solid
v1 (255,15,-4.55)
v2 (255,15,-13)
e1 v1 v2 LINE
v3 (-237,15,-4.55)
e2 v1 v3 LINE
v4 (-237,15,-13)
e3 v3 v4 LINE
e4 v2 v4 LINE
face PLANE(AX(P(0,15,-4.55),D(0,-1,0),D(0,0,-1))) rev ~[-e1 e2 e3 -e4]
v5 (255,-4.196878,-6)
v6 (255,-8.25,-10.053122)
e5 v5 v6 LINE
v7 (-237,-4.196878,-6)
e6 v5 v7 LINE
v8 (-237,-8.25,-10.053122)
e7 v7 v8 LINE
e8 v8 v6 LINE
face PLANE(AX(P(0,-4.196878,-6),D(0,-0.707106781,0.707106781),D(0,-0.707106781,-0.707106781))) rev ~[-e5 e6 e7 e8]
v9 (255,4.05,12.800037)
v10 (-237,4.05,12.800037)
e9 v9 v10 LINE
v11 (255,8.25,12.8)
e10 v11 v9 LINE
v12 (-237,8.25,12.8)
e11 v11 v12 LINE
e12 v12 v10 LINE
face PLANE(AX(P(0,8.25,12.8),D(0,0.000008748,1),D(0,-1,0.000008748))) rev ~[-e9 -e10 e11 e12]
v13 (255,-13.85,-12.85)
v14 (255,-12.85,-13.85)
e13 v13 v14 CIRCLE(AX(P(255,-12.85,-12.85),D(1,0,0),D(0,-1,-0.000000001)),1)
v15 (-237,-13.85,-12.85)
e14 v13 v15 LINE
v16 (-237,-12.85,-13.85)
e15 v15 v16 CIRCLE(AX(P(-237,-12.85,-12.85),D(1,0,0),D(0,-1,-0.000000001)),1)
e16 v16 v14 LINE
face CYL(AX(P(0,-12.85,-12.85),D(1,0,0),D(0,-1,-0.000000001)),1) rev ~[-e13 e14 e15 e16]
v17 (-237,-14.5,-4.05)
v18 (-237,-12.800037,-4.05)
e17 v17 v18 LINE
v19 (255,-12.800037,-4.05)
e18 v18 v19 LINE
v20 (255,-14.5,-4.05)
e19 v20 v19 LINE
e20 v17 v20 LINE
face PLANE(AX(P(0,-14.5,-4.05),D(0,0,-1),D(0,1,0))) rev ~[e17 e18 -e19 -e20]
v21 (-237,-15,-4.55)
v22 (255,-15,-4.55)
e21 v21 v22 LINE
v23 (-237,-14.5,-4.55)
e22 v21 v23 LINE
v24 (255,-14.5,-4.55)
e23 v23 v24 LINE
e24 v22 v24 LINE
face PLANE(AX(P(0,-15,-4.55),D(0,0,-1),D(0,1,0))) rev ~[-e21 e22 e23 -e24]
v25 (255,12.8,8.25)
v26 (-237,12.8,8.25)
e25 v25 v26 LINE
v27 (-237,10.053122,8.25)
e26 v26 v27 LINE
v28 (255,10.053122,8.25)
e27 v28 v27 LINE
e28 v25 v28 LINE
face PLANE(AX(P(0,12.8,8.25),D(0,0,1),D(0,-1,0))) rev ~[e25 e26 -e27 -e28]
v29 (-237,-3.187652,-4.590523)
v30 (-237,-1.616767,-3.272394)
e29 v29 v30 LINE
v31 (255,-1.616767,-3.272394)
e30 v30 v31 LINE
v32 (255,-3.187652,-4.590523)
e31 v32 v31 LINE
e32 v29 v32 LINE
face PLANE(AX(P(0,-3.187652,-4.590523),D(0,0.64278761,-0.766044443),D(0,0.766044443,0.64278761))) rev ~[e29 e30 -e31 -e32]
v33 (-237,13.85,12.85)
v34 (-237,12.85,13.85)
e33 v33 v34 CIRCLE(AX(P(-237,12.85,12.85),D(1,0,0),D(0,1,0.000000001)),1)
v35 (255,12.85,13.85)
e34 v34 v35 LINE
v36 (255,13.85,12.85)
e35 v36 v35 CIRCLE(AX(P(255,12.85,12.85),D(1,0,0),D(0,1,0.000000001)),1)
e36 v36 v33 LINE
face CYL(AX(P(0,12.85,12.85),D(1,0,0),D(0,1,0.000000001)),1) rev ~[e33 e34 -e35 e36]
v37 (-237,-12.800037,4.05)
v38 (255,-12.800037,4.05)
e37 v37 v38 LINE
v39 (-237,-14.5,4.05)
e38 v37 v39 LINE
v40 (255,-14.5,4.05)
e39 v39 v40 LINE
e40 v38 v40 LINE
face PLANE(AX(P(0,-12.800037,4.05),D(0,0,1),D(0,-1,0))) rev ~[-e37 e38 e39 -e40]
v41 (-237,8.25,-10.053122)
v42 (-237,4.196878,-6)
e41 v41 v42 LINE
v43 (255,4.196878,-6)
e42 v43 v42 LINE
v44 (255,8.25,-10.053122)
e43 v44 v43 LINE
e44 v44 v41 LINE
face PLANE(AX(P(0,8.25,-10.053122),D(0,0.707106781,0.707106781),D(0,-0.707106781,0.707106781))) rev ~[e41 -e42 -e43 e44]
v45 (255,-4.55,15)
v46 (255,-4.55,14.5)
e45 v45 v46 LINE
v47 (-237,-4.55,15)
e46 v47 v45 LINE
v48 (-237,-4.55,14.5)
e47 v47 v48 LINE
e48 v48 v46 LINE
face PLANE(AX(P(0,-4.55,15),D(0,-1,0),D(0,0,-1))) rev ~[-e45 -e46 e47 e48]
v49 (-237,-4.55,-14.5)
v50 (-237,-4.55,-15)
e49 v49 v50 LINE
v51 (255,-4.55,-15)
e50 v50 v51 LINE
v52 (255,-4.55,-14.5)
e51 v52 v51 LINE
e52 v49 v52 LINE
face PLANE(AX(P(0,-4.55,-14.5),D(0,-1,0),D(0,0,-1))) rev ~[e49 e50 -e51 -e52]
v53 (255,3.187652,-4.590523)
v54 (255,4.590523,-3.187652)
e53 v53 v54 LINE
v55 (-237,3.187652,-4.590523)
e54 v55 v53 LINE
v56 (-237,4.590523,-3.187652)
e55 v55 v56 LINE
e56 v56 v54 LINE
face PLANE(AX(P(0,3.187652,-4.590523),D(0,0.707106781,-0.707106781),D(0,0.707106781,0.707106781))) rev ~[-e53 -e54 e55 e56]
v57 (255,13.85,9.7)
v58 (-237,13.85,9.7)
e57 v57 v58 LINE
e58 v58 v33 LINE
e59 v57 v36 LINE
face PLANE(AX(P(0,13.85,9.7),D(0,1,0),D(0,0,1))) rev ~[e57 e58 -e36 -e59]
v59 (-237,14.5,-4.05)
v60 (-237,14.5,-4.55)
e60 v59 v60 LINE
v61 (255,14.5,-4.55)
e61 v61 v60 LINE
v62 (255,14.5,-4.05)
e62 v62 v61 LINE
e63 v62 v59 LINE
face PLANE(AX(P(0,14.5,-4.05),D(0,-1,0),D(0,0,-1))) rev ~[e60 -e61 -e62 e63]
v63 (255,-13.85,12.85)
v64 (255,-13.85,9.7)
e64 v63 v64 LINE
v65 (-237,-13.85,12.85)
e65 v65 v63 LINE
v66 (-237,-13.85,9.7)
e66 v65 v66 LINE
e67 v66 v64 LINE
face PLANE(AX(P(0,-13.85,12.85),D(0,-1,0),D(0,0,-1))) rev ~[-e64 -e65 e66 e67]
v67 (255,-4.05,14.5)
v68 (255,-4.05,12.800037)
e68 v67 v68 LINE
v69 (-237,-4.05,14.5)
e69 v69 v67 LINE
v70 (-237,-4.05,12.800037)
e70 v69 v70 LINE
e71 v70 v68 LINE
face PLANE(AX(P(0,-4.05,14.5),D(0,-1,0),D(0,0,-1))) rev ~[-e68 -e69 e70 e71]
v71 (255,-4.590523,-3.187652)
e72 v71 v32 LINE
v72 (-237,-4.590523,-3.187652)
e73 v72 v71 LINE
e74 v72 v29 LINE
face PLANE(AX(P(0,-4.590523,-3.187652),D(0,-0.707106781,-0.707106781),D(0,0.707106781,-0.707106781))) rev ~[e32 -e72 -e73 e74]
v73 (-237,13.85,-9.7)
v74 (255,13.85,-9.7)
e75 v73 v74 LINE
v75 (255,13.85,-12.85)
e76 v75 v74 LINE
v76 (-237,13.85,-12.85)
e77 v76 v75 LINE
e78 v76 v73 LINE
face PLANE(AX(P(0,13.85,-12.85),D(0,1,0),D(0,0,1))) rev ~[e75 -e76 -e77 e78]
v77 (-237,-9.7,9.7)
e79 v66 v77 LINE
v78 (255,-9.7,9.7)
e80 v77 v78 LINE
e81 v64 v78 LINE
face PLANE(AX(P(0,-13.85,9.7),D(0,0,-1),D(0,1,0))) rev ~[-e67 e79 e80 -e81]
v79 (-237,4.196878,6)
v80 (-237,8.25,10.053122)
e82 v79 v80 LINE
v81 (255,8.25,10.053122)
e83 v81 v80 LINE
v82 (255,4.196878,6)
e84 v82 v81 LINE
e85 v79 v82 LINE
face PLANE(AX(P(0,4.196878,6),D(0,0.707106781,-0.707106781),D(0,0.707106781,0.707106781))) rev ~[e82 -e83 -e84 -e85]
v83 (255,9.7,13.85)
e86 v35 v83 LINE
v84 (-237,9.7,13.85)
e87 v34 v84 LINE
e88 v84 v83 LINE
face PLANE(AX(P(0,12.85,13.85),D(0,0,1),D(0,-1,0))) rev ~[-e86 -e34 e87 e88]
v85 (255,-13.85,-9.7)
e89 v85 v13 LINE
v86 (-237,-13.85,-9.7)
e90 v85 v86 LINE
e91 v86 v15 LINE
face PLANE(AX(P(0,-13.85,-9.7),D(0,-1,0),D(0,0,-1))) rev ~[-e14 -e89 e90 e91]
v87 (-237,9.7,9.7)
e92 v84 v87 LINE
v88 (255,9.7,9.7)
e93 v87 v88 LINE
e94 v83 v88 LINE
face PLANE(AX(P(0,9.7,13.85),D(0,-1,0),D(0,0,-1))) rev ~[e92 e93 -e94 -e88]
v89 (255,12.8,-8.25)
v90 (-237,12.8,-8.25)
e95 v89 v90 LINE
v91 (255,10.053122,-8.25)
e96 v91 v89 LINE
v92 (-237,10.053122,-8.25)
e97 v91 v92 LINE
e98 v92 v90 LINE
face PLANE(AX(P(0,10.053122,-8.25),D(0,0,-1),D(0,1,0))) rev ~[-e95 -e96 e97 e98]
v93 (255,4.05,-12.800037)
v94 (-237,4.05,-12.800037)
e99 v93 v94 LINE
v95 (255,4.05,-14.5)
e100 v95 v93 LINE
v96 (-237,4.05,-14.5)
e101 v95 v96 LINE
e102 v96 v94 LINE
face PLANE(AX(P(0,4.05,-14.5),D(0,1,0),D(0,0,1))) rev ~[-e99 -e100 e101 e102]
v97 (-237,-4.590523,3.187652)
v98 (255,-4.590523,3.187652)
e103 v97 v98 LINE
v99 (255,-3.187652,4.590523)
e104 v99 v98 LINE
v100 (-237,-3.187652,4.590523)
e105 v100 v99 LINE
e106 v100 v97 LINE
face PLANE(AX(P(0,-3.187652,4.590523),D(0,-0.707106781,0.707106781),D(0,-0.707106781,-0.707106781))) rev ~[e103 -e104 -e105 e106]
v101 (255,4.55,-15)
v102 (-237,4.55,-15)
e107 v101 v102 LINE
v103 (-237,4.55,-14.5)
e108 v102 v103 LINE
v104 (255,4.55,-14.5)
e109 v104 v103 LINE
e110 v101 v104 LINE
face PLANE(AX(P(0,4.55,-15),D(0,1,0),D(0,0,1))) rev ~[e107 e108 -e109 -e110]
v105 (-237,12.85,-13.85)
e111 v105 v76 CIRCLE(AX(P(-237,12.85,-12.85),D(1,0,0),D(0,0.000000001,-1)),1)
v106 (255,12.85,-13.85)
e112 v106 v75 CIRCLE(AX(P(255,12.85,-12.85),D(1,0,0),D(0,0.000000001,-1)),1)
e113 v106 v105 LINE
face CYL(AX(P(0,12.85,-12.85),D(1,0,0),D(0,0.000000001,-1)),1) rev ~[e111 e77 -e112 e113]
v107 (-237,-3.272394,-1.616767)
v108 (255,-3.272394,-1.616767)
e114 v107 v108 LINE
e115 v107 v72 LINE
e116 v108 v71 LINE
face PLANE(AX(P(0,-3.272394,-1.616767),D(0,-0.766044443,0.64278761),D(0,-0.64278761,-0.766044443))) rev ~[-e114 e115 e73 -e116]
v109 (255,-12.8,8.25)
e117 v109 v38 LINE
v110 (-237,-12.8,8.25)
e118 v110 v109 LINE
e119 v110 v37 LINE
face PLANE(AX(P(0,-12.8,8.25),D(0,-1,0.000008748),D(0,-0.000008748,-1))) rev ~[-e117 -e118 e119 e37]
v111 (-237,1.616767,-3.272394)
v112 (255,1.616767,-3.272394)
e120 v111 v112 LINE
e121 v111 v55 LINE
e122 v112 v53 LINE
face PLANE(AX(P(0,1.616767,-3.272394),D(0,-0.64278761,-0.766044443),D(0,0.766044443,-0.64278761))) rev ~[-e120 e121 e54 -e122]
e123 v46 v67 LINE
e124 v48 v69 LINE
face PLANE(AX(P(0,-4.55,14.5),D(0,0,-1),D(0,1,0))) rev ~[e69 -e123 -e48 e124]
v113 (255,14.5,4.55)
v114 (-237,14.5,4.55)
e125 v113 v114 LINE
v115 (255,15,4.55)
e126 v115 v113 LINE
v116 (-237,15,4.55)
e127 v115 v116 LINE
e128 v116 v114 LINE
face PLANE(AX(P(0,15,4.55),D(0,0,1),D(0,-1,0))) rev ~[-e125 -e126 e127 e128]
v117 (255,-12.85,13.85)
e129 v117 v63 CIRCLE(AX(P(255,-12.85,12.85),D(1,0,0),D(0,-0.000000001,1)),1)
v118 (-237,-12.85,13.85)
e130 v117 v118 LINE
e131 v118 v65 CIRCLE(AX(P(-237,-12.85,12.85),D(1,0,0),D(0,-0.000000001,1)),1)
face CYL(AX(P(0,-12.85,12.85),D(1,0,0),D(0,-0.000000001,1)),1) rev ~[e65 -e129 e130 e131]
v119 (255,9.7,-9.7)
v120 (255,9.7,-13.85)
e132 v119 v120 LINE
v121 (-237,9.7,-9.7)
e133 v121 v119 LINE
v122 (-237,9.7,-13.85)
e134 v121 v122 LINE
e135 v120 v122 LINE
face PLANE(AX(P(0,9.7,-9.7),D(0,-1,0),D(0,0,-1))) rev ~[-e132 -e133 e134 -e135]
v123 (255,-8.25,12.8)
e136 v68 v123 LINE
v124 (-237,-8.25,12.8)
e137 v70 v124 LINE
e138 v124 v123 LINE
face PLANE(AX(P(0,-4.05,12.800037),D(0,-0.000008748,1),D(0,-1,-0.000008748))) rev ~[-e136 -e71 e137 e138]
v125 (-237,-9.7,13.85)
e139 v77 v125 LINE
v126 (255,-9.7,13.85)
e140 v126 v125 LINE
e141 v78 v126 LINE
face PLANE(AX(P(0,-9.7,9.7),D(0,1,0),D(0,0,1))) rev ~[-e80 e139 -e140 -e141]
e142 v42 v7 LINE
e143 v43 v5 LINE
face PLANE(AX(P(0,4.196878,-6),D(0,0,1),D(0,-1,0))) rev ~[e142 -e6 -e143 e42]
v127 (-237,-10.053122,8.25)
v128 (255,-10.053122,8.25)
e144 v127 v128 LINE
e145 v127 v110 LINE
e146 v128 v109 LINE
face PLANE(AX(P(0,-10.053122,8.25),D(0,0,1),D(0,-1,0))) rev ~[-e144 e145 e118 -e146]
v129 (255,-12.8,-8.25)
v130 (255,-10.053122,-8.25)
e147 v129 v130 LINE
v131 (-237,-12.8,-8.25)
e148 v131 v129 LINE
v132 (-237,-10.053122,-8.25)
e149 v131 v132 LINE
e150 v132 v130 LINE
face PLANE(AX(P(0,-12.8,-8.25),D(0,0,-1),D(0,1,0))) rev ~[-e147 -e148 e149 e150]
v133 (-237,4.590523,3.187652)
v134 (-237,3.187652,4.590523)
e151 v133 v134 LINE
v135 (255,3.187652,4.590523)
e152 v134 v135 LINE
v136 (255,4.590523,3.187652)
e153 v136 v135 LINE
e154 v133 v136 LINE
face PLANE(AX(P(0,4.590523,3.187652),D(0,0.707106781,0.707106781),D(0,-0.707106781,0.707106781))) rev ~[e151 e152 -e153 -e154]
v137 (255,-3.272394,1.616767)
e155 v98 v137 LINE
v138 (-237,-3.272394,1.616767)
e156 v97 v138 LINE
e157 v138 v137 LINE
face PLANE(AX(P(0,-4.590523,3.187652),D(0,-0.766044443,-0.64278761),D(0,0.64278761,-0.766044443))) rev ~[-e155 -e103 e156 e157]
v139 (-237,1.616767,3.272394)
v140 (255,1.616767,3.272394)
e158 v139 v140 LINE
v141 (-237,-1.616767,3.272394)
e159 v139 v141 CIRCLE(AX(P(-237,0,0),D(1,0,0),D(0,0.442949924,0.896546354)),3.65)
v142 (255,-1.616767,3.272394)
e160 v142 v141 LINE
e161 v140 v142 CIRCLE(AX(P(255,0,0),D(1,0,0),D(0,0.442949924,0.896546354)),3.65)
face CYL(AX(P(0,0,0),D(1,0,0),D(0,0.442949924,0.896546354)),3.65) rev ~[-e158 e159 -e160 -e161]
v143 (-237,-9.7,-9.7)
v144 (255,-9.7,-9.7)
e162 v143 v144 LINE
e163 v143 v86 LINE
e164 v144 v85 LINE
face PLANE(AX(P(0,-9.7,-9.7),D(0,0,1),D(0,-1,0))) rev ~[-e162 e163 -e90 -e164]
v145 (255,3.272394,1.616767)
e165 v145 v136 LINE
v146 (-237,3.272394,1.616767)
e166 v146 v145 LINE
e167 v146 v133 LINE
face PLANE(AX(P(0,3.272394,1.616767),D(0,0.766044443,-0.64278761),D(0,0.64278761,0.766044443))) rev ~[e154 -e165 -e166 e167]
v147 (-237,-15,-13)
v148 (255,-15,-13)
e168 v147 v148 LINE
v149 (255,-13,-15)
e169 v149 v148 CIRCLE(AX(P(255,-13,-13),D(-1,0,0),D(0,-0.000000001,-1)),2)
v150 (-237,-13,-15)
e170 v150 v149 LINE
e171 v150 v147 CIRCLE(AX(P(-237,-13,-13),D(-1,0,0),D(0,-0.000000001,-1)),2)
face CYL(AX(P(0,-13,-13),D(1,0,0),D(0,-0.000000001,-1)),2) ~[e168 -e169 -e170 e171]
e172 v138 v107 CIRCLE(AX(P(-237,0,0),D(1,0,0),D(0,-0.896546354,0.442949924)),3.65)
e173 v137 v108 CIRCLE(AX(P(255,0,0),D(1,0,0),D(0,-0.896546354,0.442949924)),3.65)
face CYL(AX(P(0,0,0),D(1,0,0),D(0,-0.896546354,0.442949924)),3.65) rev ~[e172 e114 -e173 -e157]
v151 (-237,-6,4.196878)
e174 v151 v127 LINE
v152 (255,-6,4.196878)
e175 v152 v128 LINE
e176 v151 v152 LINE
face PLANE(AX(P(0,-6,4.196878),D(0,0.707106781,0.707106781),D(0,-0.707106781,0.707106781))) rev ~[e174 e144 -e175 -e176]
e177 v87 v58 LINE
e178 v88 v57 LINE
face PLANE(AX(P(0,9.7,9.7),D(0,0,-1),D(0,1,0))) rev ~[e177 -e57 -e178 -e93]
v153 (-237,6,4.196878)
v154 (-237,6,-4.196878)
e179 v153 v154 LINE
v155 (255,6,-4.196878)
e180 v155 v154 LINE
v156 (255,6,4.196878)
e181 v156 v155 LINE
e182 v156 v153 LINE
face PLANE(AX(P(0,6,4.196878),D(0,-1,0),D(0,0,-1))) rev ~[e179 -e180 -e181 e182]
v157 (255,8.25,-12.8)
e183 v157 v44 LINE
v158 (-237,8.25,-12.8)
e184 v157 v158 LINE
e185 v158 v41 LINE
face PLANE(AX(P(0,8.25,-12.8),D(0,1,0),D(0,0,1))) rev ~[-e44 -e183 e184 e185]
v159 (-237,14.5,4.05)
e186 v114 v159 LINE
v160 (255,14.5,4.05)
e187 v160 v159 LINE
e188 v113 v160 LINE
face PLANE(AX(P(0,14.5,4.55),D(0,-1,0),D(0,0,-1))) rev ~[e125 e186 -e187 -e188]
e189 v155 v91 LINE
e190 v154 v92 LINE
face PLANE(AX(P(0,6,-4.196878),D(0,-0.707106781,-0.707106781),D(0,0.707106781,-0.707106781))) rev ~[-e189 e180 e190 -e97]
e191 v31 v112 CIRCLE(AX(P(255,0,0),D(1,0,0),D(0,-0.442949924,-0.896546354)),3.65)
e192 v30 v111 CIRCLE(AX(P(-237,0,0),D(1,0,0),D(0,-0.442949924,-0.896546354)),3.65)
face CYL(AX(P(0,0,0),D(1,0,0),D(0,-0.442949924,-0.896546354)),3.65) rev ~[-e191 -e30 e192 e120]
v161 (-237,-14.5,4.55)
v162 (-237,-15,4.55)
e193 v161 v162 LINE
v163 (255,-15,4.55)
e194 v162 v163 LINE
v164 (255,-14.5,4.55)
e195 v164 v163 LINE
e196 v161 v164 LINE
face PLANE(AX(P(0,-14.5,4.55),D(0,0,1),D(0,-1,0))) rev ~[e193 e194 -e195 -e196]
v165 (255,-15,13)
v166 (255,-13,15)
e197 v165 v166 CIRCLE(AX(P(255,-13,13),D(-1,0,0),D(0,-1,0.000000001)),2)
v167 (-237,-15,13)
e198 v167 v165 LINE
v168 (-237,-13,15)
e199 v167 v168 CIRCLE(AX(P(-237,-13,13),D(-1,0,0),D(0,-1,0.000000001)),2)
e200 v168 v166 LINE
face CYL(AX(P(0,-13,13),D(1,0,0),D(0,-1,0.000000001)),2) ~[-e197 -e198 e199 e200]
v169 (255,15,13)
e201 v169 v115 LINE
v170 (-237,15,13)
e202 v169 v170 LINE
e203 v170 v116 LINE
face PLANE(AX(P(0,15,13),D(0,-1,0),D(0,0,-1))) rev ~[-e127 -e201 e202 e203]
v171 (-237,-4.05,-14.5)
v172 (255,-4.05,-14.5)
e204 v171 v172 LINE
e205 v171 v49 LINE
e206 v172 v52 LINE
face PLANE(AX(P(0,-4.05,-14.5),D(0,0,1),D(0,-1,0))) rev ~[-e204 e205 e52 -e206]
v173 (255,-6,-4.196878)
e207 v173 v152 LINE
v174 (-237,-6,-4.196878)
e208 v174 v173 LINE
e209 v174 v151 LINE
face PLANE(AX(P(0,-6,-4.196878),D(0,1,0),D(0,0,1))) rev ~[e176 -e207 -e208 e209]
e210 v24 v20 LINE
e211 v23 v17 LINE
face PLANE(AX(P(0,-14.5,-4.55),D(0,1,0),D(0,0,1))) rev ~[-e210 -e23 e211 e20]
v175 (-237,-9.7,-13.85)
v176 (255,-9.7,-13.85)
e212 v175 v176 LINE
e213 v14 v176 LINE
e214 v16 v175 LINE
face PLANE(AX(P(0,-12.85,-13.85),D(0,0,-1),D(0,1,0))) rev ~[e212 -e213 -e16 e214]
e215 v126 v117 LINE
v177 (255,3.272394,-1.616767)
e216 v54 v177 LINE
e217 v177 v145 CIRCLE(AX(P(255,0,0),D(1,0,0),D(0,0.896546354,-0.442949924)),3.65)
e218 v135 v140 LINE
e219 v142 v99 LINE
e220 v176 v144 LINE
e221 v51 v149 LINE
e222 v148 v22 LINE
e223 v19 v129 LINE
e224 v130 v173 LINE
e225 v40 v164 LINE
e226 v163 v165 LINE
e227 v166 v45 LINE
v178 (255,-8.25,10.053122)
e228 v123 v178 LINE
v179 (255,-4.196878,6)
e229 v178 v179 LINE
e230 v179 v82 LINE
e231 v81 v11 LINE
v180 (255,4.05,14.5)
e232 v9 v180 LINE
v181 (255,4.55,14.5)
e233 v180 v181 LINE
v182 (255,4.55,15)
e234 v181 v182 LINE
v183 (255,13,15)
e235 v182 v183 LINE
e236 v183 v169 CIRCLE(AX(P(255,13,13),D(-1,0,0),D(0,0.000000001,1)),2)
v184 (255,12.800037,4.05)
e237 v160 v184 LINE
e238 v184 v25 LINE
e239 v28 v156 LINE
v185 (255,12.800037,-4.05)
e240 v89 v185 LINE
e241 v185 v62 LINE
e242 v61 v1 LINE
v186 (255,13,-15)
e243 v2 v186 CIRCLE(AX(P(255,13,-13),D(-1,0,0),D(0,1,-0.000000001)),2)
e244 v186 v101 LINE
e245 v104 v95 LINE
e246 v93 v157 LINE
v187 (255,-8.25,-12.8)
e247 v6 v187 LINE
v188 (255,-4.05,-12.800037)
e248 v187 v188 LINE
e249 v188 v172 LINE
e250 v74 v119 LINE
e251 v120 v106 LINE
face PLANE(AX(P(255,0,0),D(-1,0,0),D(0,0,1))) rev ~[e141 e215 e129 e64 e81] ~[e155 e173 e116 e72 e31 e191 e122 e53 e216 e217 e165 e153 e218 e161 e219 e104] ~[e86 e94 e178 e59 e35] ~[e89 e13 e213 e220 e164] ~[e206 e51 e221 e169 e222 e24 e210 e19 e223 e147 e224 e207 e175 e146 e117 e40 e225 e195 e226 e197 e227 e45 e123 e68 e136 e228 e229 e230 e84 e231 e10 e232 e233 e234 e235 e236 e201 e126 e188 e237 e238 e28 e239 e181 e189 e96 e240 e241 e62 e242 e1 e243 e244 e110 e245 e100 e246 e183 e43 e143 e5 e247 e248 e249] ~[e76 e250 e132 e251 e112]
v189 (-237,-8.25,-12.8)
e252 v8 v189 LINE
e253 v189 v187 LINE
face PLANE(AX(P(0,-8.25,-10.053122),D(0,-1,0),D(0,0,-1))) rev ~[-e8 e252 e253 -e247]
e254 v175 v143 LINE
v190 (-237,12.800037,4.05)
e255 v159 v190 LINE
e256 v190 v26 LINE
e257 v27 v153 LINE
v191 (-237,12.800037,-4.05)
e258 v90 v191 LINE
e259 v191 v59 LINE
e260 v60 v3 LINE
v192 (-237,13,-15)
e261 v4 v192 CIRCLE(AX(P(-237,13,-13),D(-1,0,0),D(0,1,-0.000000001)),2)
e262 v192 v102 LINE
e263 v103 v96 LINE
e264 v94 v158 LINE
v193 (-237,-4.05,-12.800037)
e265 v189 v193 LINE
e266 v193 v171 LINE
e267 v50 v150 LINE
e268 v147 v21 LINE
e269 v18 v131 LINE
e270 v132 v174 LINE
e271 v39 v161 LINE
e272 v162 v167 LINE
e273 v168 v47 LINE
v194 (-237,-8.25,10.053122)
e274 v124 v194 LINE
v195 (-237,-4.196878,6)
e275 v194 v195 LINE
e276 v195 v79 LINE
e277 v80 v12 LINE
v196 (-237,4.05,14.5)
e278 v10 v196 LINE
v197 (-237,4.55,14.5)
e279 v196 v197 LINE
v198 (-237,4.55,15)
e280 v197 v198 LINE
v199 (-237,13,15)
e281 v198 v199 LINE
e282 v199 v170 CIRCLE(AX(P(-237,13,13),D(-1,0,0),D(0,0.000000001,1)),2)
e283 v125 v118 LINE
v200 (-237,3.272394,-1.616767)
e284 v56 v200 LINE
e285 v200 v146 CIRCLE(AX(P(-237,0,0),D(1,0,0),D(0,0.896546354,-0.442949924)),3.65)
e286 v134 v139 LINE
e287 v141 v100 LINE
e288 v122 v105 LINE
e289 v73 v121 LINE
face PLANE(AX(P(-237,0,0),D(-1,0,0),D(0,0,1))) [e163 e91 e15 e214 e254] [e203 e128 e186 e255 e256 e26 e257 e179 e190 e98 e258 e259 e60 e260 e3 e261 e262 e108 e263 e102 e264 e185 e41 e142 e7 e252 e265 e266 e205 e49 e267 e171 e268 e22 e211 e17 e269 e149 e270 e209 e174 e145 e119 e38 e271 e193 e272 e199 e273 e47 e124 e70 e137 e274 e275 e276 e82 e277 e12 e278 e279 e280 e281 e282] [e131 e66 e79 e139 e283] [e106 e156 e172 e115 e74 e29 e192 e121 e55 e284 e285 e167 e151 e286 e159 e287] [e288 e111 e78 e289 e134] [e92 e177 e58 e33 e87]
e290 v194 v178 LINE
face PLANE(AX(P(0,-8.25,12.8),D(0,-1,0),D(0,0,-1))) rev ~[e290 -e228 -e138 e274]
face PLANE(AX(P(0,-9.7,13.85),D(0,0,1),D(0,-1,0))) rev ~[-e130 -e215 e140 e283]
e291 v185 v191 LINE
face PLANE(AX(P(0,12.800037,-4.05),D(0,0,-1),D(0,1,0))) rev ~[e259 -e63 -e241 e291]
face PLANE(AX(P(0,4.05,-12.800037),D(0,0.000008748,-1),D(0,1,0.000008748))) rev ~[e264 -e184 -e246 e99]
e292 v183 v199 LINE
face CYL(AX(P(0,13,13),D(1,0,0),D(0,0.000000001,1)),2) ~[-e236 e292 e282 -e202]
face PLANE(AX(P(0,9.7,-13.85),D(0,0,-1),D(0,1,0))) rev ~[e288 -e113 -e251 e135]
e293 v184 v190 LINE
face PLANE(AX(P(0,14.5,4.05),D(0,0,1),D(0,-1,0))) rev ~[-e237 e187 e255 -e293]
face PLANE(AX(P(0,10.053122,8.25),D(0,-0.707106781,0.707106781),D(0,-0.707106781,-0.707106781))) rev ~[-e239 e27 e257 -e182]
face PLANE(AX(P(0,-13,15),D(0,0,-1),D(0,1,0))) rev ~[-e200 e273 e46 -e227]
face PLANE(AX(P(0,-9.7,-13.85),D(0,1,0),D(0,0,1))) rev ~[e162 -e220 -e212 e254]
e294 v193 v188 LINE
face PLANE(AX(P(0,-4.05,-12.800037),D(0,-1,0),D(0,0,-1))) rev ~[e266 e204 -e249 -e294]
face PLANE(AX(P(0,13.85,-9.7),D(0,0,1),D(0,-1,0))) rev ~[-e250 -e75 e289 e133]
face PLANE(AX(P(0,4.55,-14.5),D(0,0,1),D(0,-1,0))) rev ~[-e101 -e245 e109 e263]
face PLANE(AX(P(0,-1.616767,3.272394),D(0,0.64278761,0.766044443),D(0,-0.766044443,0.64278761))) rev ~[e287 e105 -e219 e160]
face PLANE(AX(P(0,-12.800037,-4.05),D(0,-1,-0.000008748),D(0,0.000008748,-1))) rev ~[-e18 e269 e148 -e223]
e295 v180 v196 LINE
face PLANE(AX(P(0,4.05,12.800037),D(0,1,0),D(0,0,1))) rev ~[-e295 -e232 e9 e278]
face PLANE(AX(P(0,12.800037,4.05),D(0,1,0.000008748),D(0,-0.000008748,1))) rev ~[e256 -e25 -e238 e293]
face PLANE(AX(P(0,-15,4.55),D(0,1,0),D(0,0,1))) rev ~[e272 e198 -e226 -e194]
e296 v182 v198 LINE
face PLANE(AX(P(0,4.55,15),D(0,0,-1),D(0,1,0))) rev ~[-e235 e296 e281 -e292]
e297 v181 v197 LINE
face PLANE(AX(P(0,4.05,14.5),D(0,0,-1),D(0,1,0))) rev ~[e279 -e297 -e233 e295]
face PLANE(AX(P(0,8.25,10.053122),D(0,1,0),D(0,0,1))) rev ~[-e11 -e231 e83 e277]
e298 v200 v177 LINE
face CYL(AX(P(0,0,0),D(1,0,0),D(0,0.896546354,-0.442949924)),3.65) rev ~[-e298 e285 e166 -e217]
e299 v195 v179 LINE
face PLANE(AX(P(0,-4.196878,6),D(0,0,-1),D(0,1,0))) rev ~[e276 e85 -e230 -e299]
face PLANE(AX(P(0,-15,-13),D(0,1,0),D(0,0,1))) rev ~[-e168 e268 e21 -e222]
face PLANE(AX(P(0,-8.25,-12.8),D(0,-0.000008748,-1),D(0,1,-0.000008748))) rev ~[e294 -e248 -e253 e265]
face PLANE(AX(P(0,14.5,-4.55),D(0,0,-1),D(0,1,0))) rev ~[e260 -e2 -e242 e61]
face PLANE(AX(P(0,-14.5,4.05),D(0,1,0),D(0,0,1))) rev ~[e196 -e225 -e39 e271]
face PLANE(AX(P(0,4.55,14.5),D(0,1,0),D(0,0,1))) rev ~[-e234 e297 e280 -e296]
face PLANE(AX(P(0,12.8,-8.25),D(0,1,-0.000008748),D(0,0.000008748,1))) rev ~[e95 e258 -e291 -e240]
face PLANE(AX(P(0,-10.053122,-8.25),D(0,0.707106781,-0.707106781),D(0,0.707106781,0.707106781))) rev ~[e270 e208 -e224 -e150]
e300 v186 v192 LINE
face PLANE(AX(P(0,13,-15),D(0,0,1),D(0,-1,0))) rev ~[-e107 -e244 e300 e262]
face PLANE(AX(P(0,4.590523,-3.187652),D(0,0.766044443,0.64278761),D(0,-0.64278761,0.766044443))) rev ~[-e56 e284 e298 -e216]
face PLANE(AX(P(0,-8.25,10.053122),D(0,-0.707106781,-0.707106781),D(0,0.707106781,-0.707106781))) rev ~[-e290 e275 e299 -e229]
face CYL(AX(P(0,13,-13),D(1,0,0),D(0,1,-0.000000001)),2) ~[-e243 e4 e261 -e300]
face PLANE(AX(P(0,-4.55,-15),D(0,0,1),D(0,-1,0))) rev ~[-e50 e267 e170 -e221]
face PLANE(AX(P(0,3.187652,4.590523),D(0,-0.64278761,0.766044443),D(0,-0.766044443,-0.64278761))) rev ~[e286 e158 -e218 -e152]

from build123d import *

# Parameters (mm, degrees)
BR_EXTRUDE_DEPTH      = 255
BR_EXTRUDE_DEPTH_BACK = 237


with BuildPart() as part:
    # Sketch2 → BR_Extrude (new body, two sides)
    with BuildSketch(Plane(origin=(0, 0, 0), x_dir=(0, 0, -1), z_dir=(1, 0, 0))) as br_extrude_sk:
        with BuildLine():
            Line((-6, 4.196877708), (-10.053122292, 8.25))
            Line((-10.053122292, 8.25), (-12.8, 8.25))
            Line((-12.8, 8.25), (-12.800036742, 4.05))
            Line((-12.800036742, 4.05), (-14.5, 4.05))
            Line((-14.5, 4.05), (-14.5, 4.55))
            Line((-14.5, 4.55), (-15, 4.55))
            Line((-15, 4.55), (-15, 13))
            ThreePointArc((-15, 13), (-14.414213562, 14.414213562), (-13, 15))
            Line((-13, 15), (-4.55, 15))
            Line((-4.55, 15), (-4.55, 14.5))
            Line((-4.55, 14.5), (-4.05, 14.5))
            Line((-4.05, 14.5), (-4.05, 12.800036742))
            Line((-4.05, 12.800036742), (-8.25, 12.8))
            Line((-8.25, 12.8), (-8.25, 10.053122292))
            Line((-8.25, 10.053122292), (-4.196877708, 6))
            Line((-4.196877708, 6), (4.196877708, 6))
            Line((4.196877708, 6), (8.25, 10.053122292))
            Line((8.25, 10.053122292), (8.25, 12.8))
            Line((8.25, 12.8), (4.05, 12.800036742))
            Line((4.05, 12.800036742), (4.05, 14.5))
            Line((4.05, 14.5), (4.55, 14.5))
            Line((4.55, 14.5), (4.55, 15))
            Line((4.55, 15), (13, 15))
            ThreePointArc((13, 15), (14.414213562, 14.414213562), (15, 13))
            Line((15, 13), (15, 4.55))
            Line((15, 4.55), (14.5, 4.55))
            Line((14.5, 4.55), (14.5, 4.05))
            Line((14.5, 4.05), (12.800036742, 4.05))
            Line((12.800036742, 4.05), (12.8, 8.25))
            Line((12.8, 8.25), (10.053122292, 8.25))
            Line((10.053122292, 8.25), (6, 4.196877708))
            Line((6, 4.196877708), (6, -4.196877708))
            Line((6, -4.196877708), (10.053122292, -8.25))
            Line((10.053122292, -8.25), (12.8, -8.25))
            Line((12.8, -8.25), (12.800036742, -4.05))
            Line((12.800036742, -4.05), (14.5, -4.05))
            Line((14.5, -4.05), (14.5, -4.55))
            Line((14.5, -4.55), (15, -4.55))
            Line((15, -4.55), (15, -13))
            ThreePointArc((15, -13), (14.414213562, -14.414213562), (13, -15))
            Line((13, -15), (4.55, -15))
            Line((4.55, -15), (4.55, -14.5))
            Line((4.55, -14.5), (4.05, -14.5))
            Line((4.05, -14.5), (4.05, -12.800036742))
            Line((4.05, -12.800036742), (8.25, -12.8))
            Line((8.25, -12.8), (8.25, -10.053122292))
            Line((8.25, -10.053122292), (4.196877708, -6))
            Line((4.196877708, -6), (-4.196877708, -6))
            Line((-4.196877708, -6), (-8.25, -10.053122292))
            Line((-8.25, -10.053122292), (-8.25, -12.8))
            Line((-8.25, -12.8), (-4.05, -12.800036742))
            Line((-4.05, -12.800036742), (-4.05, -14.5))
            Line((-4.05, -14.5), (-4.55, -14.5))
            Line((-4.55, -14.5), (-4.55, -15))
            Line((-4.55, -15), (-13, -15))
            ThreePointArc((-13, -15), (-14.414213562, -14.414213562), (-15, -13))
            Line((-15, -13), (-15, -4.55))
            Line((-15, -4.55), (-14.5, -4.55))
            Line((-14.5, -4.55), (-14.5, -4.05))
            Line((-14.5, -4.05), (-12.800036742, -4.05))
            Line((-12.800036742, -4.05), (-12.8, -8.25))
            Line((-12.8, -8.25), (-10.053122292, -8.25))
            Line((-10.053122292, -8.25), (-6, -4.196877708))
            Line((-6, -4.196877708), (-6, 4.196877708))
        make_face()
        with BuildLine():
            Line((-13.85, -9.7), (-13.85, -12.85))
            ThreePointArc((-13.85, -12.85), (-13.557106781, -13.557106781), (-12.85, -13.85))
            Line((-12.85, -13.85), (-9.7, -13.85))
            Line((-9.7, -13.85), (-9.7, -9.7))
            Line((-9.7, -9.7), (-13.85, -9.7))
        make_face(mode=Mode.SUBTRACT)
        with BuildLine():
            Line((9.7, -13.85), (12.85, -13.85))
            ThreePointArc((12.85, -13.85), (13.557106781, -13.557106781), (13.85, -12.85))
            Line((13.85, -12.85), (13.85, -9.7))
            Line((13.85, -9.7), (9.7, -9.7))
            Line((9.7, -9.7), (9.7, -13.85))
        make_face(mode=Mode.SUBTRACT)
        with BuildLine():
            Line((13.85, 9.7), (13.85, 12.85))
            ThreePointArc((13.85, 12.85), (13.557106781, 13.557106781), (12.85, 13.85))
            Line((12.85, 13.85), (9.7, 13.85))
            Line((9.7, 13.85), (9.7, 9.7))
            Line((9.7, 9.7), (13.85, 9.7))
        make_face(mode=Mode.SUBTRACT)
        with BuildLine():
            Line((-9.7, 13.85), (-12.85, 13.85))
            ThreePointArc((-12.85, 13.85), (-13.557106781, 13.557106781), (-13.85, 12.85))
            Line((-13.85, 12.85), (-13.85, 9.7))
            Line((-13.85, 9.7), (-9.7, 9.7))
            Line((-9.7, 9.7), (-9.7, 13.85))
        make_face(mode=Mode.SUBTRACT)
        with BuildLine():
            Line((-3.272394192, -1.616767223), (-4.59052283, -3.187651763))
            Line((-4.59052283, -3.187651763), (-3.187651763, -4.59052283))
            Line((-3.187651763, -4.59052283), (-1.616767223, -3.272394192))
            ThreePointArc((-1.616767223, -3.272394192), (0, -3.65), (1.616767223, -3.272394192))
            Line((1.616767223, -3.272394192), (3.187651763, -4.59052283))
            Line((3.187651763, -4.59052283), (4.59052283, -3.187651763))
            Line((4.59052283, -3.187651763), (3.272394192, -1.616767223))
            ThreePointArc((3.272394192, -1.616767223), (3.65, 0), (3.272394192, 1.616767223))
            Line((3.272394192, 1.616767223), (4.59052283, 3.187651763))
            Line((4.59052283, 3.187651763), (3.187651763, 4.59052283))
            Line((3.187651763, 4.59052283), (1.616767223, 3.272394192))
            ThreePointArc((1.616767223, 3.272394192), (0, 3.65), (-1.616767223, 3.272394192))
            Line((-1.616767223, 3.272394192), (-3.187651763, 4.59052283))
            Line((-3.187651763, 4.59052283), (-4.59052283, 3.187651763))
            Line((-4.59052283, 3.187651763), (-3.272394192, 1.616767223))
            ThreePointArc((-3.272394192, 1.616767223), (-3.65, 0), (-3.272394192, -1.616767223))
        make_face(mode=Mode.SUBTRACT)
    extrude(amount=BR_EXTRUDE_DEPTH)
    extrude(br_extrude_sk.sketch, amount=-BR_EXTRUDE_DEPTH_BACK)


solid = part.part
